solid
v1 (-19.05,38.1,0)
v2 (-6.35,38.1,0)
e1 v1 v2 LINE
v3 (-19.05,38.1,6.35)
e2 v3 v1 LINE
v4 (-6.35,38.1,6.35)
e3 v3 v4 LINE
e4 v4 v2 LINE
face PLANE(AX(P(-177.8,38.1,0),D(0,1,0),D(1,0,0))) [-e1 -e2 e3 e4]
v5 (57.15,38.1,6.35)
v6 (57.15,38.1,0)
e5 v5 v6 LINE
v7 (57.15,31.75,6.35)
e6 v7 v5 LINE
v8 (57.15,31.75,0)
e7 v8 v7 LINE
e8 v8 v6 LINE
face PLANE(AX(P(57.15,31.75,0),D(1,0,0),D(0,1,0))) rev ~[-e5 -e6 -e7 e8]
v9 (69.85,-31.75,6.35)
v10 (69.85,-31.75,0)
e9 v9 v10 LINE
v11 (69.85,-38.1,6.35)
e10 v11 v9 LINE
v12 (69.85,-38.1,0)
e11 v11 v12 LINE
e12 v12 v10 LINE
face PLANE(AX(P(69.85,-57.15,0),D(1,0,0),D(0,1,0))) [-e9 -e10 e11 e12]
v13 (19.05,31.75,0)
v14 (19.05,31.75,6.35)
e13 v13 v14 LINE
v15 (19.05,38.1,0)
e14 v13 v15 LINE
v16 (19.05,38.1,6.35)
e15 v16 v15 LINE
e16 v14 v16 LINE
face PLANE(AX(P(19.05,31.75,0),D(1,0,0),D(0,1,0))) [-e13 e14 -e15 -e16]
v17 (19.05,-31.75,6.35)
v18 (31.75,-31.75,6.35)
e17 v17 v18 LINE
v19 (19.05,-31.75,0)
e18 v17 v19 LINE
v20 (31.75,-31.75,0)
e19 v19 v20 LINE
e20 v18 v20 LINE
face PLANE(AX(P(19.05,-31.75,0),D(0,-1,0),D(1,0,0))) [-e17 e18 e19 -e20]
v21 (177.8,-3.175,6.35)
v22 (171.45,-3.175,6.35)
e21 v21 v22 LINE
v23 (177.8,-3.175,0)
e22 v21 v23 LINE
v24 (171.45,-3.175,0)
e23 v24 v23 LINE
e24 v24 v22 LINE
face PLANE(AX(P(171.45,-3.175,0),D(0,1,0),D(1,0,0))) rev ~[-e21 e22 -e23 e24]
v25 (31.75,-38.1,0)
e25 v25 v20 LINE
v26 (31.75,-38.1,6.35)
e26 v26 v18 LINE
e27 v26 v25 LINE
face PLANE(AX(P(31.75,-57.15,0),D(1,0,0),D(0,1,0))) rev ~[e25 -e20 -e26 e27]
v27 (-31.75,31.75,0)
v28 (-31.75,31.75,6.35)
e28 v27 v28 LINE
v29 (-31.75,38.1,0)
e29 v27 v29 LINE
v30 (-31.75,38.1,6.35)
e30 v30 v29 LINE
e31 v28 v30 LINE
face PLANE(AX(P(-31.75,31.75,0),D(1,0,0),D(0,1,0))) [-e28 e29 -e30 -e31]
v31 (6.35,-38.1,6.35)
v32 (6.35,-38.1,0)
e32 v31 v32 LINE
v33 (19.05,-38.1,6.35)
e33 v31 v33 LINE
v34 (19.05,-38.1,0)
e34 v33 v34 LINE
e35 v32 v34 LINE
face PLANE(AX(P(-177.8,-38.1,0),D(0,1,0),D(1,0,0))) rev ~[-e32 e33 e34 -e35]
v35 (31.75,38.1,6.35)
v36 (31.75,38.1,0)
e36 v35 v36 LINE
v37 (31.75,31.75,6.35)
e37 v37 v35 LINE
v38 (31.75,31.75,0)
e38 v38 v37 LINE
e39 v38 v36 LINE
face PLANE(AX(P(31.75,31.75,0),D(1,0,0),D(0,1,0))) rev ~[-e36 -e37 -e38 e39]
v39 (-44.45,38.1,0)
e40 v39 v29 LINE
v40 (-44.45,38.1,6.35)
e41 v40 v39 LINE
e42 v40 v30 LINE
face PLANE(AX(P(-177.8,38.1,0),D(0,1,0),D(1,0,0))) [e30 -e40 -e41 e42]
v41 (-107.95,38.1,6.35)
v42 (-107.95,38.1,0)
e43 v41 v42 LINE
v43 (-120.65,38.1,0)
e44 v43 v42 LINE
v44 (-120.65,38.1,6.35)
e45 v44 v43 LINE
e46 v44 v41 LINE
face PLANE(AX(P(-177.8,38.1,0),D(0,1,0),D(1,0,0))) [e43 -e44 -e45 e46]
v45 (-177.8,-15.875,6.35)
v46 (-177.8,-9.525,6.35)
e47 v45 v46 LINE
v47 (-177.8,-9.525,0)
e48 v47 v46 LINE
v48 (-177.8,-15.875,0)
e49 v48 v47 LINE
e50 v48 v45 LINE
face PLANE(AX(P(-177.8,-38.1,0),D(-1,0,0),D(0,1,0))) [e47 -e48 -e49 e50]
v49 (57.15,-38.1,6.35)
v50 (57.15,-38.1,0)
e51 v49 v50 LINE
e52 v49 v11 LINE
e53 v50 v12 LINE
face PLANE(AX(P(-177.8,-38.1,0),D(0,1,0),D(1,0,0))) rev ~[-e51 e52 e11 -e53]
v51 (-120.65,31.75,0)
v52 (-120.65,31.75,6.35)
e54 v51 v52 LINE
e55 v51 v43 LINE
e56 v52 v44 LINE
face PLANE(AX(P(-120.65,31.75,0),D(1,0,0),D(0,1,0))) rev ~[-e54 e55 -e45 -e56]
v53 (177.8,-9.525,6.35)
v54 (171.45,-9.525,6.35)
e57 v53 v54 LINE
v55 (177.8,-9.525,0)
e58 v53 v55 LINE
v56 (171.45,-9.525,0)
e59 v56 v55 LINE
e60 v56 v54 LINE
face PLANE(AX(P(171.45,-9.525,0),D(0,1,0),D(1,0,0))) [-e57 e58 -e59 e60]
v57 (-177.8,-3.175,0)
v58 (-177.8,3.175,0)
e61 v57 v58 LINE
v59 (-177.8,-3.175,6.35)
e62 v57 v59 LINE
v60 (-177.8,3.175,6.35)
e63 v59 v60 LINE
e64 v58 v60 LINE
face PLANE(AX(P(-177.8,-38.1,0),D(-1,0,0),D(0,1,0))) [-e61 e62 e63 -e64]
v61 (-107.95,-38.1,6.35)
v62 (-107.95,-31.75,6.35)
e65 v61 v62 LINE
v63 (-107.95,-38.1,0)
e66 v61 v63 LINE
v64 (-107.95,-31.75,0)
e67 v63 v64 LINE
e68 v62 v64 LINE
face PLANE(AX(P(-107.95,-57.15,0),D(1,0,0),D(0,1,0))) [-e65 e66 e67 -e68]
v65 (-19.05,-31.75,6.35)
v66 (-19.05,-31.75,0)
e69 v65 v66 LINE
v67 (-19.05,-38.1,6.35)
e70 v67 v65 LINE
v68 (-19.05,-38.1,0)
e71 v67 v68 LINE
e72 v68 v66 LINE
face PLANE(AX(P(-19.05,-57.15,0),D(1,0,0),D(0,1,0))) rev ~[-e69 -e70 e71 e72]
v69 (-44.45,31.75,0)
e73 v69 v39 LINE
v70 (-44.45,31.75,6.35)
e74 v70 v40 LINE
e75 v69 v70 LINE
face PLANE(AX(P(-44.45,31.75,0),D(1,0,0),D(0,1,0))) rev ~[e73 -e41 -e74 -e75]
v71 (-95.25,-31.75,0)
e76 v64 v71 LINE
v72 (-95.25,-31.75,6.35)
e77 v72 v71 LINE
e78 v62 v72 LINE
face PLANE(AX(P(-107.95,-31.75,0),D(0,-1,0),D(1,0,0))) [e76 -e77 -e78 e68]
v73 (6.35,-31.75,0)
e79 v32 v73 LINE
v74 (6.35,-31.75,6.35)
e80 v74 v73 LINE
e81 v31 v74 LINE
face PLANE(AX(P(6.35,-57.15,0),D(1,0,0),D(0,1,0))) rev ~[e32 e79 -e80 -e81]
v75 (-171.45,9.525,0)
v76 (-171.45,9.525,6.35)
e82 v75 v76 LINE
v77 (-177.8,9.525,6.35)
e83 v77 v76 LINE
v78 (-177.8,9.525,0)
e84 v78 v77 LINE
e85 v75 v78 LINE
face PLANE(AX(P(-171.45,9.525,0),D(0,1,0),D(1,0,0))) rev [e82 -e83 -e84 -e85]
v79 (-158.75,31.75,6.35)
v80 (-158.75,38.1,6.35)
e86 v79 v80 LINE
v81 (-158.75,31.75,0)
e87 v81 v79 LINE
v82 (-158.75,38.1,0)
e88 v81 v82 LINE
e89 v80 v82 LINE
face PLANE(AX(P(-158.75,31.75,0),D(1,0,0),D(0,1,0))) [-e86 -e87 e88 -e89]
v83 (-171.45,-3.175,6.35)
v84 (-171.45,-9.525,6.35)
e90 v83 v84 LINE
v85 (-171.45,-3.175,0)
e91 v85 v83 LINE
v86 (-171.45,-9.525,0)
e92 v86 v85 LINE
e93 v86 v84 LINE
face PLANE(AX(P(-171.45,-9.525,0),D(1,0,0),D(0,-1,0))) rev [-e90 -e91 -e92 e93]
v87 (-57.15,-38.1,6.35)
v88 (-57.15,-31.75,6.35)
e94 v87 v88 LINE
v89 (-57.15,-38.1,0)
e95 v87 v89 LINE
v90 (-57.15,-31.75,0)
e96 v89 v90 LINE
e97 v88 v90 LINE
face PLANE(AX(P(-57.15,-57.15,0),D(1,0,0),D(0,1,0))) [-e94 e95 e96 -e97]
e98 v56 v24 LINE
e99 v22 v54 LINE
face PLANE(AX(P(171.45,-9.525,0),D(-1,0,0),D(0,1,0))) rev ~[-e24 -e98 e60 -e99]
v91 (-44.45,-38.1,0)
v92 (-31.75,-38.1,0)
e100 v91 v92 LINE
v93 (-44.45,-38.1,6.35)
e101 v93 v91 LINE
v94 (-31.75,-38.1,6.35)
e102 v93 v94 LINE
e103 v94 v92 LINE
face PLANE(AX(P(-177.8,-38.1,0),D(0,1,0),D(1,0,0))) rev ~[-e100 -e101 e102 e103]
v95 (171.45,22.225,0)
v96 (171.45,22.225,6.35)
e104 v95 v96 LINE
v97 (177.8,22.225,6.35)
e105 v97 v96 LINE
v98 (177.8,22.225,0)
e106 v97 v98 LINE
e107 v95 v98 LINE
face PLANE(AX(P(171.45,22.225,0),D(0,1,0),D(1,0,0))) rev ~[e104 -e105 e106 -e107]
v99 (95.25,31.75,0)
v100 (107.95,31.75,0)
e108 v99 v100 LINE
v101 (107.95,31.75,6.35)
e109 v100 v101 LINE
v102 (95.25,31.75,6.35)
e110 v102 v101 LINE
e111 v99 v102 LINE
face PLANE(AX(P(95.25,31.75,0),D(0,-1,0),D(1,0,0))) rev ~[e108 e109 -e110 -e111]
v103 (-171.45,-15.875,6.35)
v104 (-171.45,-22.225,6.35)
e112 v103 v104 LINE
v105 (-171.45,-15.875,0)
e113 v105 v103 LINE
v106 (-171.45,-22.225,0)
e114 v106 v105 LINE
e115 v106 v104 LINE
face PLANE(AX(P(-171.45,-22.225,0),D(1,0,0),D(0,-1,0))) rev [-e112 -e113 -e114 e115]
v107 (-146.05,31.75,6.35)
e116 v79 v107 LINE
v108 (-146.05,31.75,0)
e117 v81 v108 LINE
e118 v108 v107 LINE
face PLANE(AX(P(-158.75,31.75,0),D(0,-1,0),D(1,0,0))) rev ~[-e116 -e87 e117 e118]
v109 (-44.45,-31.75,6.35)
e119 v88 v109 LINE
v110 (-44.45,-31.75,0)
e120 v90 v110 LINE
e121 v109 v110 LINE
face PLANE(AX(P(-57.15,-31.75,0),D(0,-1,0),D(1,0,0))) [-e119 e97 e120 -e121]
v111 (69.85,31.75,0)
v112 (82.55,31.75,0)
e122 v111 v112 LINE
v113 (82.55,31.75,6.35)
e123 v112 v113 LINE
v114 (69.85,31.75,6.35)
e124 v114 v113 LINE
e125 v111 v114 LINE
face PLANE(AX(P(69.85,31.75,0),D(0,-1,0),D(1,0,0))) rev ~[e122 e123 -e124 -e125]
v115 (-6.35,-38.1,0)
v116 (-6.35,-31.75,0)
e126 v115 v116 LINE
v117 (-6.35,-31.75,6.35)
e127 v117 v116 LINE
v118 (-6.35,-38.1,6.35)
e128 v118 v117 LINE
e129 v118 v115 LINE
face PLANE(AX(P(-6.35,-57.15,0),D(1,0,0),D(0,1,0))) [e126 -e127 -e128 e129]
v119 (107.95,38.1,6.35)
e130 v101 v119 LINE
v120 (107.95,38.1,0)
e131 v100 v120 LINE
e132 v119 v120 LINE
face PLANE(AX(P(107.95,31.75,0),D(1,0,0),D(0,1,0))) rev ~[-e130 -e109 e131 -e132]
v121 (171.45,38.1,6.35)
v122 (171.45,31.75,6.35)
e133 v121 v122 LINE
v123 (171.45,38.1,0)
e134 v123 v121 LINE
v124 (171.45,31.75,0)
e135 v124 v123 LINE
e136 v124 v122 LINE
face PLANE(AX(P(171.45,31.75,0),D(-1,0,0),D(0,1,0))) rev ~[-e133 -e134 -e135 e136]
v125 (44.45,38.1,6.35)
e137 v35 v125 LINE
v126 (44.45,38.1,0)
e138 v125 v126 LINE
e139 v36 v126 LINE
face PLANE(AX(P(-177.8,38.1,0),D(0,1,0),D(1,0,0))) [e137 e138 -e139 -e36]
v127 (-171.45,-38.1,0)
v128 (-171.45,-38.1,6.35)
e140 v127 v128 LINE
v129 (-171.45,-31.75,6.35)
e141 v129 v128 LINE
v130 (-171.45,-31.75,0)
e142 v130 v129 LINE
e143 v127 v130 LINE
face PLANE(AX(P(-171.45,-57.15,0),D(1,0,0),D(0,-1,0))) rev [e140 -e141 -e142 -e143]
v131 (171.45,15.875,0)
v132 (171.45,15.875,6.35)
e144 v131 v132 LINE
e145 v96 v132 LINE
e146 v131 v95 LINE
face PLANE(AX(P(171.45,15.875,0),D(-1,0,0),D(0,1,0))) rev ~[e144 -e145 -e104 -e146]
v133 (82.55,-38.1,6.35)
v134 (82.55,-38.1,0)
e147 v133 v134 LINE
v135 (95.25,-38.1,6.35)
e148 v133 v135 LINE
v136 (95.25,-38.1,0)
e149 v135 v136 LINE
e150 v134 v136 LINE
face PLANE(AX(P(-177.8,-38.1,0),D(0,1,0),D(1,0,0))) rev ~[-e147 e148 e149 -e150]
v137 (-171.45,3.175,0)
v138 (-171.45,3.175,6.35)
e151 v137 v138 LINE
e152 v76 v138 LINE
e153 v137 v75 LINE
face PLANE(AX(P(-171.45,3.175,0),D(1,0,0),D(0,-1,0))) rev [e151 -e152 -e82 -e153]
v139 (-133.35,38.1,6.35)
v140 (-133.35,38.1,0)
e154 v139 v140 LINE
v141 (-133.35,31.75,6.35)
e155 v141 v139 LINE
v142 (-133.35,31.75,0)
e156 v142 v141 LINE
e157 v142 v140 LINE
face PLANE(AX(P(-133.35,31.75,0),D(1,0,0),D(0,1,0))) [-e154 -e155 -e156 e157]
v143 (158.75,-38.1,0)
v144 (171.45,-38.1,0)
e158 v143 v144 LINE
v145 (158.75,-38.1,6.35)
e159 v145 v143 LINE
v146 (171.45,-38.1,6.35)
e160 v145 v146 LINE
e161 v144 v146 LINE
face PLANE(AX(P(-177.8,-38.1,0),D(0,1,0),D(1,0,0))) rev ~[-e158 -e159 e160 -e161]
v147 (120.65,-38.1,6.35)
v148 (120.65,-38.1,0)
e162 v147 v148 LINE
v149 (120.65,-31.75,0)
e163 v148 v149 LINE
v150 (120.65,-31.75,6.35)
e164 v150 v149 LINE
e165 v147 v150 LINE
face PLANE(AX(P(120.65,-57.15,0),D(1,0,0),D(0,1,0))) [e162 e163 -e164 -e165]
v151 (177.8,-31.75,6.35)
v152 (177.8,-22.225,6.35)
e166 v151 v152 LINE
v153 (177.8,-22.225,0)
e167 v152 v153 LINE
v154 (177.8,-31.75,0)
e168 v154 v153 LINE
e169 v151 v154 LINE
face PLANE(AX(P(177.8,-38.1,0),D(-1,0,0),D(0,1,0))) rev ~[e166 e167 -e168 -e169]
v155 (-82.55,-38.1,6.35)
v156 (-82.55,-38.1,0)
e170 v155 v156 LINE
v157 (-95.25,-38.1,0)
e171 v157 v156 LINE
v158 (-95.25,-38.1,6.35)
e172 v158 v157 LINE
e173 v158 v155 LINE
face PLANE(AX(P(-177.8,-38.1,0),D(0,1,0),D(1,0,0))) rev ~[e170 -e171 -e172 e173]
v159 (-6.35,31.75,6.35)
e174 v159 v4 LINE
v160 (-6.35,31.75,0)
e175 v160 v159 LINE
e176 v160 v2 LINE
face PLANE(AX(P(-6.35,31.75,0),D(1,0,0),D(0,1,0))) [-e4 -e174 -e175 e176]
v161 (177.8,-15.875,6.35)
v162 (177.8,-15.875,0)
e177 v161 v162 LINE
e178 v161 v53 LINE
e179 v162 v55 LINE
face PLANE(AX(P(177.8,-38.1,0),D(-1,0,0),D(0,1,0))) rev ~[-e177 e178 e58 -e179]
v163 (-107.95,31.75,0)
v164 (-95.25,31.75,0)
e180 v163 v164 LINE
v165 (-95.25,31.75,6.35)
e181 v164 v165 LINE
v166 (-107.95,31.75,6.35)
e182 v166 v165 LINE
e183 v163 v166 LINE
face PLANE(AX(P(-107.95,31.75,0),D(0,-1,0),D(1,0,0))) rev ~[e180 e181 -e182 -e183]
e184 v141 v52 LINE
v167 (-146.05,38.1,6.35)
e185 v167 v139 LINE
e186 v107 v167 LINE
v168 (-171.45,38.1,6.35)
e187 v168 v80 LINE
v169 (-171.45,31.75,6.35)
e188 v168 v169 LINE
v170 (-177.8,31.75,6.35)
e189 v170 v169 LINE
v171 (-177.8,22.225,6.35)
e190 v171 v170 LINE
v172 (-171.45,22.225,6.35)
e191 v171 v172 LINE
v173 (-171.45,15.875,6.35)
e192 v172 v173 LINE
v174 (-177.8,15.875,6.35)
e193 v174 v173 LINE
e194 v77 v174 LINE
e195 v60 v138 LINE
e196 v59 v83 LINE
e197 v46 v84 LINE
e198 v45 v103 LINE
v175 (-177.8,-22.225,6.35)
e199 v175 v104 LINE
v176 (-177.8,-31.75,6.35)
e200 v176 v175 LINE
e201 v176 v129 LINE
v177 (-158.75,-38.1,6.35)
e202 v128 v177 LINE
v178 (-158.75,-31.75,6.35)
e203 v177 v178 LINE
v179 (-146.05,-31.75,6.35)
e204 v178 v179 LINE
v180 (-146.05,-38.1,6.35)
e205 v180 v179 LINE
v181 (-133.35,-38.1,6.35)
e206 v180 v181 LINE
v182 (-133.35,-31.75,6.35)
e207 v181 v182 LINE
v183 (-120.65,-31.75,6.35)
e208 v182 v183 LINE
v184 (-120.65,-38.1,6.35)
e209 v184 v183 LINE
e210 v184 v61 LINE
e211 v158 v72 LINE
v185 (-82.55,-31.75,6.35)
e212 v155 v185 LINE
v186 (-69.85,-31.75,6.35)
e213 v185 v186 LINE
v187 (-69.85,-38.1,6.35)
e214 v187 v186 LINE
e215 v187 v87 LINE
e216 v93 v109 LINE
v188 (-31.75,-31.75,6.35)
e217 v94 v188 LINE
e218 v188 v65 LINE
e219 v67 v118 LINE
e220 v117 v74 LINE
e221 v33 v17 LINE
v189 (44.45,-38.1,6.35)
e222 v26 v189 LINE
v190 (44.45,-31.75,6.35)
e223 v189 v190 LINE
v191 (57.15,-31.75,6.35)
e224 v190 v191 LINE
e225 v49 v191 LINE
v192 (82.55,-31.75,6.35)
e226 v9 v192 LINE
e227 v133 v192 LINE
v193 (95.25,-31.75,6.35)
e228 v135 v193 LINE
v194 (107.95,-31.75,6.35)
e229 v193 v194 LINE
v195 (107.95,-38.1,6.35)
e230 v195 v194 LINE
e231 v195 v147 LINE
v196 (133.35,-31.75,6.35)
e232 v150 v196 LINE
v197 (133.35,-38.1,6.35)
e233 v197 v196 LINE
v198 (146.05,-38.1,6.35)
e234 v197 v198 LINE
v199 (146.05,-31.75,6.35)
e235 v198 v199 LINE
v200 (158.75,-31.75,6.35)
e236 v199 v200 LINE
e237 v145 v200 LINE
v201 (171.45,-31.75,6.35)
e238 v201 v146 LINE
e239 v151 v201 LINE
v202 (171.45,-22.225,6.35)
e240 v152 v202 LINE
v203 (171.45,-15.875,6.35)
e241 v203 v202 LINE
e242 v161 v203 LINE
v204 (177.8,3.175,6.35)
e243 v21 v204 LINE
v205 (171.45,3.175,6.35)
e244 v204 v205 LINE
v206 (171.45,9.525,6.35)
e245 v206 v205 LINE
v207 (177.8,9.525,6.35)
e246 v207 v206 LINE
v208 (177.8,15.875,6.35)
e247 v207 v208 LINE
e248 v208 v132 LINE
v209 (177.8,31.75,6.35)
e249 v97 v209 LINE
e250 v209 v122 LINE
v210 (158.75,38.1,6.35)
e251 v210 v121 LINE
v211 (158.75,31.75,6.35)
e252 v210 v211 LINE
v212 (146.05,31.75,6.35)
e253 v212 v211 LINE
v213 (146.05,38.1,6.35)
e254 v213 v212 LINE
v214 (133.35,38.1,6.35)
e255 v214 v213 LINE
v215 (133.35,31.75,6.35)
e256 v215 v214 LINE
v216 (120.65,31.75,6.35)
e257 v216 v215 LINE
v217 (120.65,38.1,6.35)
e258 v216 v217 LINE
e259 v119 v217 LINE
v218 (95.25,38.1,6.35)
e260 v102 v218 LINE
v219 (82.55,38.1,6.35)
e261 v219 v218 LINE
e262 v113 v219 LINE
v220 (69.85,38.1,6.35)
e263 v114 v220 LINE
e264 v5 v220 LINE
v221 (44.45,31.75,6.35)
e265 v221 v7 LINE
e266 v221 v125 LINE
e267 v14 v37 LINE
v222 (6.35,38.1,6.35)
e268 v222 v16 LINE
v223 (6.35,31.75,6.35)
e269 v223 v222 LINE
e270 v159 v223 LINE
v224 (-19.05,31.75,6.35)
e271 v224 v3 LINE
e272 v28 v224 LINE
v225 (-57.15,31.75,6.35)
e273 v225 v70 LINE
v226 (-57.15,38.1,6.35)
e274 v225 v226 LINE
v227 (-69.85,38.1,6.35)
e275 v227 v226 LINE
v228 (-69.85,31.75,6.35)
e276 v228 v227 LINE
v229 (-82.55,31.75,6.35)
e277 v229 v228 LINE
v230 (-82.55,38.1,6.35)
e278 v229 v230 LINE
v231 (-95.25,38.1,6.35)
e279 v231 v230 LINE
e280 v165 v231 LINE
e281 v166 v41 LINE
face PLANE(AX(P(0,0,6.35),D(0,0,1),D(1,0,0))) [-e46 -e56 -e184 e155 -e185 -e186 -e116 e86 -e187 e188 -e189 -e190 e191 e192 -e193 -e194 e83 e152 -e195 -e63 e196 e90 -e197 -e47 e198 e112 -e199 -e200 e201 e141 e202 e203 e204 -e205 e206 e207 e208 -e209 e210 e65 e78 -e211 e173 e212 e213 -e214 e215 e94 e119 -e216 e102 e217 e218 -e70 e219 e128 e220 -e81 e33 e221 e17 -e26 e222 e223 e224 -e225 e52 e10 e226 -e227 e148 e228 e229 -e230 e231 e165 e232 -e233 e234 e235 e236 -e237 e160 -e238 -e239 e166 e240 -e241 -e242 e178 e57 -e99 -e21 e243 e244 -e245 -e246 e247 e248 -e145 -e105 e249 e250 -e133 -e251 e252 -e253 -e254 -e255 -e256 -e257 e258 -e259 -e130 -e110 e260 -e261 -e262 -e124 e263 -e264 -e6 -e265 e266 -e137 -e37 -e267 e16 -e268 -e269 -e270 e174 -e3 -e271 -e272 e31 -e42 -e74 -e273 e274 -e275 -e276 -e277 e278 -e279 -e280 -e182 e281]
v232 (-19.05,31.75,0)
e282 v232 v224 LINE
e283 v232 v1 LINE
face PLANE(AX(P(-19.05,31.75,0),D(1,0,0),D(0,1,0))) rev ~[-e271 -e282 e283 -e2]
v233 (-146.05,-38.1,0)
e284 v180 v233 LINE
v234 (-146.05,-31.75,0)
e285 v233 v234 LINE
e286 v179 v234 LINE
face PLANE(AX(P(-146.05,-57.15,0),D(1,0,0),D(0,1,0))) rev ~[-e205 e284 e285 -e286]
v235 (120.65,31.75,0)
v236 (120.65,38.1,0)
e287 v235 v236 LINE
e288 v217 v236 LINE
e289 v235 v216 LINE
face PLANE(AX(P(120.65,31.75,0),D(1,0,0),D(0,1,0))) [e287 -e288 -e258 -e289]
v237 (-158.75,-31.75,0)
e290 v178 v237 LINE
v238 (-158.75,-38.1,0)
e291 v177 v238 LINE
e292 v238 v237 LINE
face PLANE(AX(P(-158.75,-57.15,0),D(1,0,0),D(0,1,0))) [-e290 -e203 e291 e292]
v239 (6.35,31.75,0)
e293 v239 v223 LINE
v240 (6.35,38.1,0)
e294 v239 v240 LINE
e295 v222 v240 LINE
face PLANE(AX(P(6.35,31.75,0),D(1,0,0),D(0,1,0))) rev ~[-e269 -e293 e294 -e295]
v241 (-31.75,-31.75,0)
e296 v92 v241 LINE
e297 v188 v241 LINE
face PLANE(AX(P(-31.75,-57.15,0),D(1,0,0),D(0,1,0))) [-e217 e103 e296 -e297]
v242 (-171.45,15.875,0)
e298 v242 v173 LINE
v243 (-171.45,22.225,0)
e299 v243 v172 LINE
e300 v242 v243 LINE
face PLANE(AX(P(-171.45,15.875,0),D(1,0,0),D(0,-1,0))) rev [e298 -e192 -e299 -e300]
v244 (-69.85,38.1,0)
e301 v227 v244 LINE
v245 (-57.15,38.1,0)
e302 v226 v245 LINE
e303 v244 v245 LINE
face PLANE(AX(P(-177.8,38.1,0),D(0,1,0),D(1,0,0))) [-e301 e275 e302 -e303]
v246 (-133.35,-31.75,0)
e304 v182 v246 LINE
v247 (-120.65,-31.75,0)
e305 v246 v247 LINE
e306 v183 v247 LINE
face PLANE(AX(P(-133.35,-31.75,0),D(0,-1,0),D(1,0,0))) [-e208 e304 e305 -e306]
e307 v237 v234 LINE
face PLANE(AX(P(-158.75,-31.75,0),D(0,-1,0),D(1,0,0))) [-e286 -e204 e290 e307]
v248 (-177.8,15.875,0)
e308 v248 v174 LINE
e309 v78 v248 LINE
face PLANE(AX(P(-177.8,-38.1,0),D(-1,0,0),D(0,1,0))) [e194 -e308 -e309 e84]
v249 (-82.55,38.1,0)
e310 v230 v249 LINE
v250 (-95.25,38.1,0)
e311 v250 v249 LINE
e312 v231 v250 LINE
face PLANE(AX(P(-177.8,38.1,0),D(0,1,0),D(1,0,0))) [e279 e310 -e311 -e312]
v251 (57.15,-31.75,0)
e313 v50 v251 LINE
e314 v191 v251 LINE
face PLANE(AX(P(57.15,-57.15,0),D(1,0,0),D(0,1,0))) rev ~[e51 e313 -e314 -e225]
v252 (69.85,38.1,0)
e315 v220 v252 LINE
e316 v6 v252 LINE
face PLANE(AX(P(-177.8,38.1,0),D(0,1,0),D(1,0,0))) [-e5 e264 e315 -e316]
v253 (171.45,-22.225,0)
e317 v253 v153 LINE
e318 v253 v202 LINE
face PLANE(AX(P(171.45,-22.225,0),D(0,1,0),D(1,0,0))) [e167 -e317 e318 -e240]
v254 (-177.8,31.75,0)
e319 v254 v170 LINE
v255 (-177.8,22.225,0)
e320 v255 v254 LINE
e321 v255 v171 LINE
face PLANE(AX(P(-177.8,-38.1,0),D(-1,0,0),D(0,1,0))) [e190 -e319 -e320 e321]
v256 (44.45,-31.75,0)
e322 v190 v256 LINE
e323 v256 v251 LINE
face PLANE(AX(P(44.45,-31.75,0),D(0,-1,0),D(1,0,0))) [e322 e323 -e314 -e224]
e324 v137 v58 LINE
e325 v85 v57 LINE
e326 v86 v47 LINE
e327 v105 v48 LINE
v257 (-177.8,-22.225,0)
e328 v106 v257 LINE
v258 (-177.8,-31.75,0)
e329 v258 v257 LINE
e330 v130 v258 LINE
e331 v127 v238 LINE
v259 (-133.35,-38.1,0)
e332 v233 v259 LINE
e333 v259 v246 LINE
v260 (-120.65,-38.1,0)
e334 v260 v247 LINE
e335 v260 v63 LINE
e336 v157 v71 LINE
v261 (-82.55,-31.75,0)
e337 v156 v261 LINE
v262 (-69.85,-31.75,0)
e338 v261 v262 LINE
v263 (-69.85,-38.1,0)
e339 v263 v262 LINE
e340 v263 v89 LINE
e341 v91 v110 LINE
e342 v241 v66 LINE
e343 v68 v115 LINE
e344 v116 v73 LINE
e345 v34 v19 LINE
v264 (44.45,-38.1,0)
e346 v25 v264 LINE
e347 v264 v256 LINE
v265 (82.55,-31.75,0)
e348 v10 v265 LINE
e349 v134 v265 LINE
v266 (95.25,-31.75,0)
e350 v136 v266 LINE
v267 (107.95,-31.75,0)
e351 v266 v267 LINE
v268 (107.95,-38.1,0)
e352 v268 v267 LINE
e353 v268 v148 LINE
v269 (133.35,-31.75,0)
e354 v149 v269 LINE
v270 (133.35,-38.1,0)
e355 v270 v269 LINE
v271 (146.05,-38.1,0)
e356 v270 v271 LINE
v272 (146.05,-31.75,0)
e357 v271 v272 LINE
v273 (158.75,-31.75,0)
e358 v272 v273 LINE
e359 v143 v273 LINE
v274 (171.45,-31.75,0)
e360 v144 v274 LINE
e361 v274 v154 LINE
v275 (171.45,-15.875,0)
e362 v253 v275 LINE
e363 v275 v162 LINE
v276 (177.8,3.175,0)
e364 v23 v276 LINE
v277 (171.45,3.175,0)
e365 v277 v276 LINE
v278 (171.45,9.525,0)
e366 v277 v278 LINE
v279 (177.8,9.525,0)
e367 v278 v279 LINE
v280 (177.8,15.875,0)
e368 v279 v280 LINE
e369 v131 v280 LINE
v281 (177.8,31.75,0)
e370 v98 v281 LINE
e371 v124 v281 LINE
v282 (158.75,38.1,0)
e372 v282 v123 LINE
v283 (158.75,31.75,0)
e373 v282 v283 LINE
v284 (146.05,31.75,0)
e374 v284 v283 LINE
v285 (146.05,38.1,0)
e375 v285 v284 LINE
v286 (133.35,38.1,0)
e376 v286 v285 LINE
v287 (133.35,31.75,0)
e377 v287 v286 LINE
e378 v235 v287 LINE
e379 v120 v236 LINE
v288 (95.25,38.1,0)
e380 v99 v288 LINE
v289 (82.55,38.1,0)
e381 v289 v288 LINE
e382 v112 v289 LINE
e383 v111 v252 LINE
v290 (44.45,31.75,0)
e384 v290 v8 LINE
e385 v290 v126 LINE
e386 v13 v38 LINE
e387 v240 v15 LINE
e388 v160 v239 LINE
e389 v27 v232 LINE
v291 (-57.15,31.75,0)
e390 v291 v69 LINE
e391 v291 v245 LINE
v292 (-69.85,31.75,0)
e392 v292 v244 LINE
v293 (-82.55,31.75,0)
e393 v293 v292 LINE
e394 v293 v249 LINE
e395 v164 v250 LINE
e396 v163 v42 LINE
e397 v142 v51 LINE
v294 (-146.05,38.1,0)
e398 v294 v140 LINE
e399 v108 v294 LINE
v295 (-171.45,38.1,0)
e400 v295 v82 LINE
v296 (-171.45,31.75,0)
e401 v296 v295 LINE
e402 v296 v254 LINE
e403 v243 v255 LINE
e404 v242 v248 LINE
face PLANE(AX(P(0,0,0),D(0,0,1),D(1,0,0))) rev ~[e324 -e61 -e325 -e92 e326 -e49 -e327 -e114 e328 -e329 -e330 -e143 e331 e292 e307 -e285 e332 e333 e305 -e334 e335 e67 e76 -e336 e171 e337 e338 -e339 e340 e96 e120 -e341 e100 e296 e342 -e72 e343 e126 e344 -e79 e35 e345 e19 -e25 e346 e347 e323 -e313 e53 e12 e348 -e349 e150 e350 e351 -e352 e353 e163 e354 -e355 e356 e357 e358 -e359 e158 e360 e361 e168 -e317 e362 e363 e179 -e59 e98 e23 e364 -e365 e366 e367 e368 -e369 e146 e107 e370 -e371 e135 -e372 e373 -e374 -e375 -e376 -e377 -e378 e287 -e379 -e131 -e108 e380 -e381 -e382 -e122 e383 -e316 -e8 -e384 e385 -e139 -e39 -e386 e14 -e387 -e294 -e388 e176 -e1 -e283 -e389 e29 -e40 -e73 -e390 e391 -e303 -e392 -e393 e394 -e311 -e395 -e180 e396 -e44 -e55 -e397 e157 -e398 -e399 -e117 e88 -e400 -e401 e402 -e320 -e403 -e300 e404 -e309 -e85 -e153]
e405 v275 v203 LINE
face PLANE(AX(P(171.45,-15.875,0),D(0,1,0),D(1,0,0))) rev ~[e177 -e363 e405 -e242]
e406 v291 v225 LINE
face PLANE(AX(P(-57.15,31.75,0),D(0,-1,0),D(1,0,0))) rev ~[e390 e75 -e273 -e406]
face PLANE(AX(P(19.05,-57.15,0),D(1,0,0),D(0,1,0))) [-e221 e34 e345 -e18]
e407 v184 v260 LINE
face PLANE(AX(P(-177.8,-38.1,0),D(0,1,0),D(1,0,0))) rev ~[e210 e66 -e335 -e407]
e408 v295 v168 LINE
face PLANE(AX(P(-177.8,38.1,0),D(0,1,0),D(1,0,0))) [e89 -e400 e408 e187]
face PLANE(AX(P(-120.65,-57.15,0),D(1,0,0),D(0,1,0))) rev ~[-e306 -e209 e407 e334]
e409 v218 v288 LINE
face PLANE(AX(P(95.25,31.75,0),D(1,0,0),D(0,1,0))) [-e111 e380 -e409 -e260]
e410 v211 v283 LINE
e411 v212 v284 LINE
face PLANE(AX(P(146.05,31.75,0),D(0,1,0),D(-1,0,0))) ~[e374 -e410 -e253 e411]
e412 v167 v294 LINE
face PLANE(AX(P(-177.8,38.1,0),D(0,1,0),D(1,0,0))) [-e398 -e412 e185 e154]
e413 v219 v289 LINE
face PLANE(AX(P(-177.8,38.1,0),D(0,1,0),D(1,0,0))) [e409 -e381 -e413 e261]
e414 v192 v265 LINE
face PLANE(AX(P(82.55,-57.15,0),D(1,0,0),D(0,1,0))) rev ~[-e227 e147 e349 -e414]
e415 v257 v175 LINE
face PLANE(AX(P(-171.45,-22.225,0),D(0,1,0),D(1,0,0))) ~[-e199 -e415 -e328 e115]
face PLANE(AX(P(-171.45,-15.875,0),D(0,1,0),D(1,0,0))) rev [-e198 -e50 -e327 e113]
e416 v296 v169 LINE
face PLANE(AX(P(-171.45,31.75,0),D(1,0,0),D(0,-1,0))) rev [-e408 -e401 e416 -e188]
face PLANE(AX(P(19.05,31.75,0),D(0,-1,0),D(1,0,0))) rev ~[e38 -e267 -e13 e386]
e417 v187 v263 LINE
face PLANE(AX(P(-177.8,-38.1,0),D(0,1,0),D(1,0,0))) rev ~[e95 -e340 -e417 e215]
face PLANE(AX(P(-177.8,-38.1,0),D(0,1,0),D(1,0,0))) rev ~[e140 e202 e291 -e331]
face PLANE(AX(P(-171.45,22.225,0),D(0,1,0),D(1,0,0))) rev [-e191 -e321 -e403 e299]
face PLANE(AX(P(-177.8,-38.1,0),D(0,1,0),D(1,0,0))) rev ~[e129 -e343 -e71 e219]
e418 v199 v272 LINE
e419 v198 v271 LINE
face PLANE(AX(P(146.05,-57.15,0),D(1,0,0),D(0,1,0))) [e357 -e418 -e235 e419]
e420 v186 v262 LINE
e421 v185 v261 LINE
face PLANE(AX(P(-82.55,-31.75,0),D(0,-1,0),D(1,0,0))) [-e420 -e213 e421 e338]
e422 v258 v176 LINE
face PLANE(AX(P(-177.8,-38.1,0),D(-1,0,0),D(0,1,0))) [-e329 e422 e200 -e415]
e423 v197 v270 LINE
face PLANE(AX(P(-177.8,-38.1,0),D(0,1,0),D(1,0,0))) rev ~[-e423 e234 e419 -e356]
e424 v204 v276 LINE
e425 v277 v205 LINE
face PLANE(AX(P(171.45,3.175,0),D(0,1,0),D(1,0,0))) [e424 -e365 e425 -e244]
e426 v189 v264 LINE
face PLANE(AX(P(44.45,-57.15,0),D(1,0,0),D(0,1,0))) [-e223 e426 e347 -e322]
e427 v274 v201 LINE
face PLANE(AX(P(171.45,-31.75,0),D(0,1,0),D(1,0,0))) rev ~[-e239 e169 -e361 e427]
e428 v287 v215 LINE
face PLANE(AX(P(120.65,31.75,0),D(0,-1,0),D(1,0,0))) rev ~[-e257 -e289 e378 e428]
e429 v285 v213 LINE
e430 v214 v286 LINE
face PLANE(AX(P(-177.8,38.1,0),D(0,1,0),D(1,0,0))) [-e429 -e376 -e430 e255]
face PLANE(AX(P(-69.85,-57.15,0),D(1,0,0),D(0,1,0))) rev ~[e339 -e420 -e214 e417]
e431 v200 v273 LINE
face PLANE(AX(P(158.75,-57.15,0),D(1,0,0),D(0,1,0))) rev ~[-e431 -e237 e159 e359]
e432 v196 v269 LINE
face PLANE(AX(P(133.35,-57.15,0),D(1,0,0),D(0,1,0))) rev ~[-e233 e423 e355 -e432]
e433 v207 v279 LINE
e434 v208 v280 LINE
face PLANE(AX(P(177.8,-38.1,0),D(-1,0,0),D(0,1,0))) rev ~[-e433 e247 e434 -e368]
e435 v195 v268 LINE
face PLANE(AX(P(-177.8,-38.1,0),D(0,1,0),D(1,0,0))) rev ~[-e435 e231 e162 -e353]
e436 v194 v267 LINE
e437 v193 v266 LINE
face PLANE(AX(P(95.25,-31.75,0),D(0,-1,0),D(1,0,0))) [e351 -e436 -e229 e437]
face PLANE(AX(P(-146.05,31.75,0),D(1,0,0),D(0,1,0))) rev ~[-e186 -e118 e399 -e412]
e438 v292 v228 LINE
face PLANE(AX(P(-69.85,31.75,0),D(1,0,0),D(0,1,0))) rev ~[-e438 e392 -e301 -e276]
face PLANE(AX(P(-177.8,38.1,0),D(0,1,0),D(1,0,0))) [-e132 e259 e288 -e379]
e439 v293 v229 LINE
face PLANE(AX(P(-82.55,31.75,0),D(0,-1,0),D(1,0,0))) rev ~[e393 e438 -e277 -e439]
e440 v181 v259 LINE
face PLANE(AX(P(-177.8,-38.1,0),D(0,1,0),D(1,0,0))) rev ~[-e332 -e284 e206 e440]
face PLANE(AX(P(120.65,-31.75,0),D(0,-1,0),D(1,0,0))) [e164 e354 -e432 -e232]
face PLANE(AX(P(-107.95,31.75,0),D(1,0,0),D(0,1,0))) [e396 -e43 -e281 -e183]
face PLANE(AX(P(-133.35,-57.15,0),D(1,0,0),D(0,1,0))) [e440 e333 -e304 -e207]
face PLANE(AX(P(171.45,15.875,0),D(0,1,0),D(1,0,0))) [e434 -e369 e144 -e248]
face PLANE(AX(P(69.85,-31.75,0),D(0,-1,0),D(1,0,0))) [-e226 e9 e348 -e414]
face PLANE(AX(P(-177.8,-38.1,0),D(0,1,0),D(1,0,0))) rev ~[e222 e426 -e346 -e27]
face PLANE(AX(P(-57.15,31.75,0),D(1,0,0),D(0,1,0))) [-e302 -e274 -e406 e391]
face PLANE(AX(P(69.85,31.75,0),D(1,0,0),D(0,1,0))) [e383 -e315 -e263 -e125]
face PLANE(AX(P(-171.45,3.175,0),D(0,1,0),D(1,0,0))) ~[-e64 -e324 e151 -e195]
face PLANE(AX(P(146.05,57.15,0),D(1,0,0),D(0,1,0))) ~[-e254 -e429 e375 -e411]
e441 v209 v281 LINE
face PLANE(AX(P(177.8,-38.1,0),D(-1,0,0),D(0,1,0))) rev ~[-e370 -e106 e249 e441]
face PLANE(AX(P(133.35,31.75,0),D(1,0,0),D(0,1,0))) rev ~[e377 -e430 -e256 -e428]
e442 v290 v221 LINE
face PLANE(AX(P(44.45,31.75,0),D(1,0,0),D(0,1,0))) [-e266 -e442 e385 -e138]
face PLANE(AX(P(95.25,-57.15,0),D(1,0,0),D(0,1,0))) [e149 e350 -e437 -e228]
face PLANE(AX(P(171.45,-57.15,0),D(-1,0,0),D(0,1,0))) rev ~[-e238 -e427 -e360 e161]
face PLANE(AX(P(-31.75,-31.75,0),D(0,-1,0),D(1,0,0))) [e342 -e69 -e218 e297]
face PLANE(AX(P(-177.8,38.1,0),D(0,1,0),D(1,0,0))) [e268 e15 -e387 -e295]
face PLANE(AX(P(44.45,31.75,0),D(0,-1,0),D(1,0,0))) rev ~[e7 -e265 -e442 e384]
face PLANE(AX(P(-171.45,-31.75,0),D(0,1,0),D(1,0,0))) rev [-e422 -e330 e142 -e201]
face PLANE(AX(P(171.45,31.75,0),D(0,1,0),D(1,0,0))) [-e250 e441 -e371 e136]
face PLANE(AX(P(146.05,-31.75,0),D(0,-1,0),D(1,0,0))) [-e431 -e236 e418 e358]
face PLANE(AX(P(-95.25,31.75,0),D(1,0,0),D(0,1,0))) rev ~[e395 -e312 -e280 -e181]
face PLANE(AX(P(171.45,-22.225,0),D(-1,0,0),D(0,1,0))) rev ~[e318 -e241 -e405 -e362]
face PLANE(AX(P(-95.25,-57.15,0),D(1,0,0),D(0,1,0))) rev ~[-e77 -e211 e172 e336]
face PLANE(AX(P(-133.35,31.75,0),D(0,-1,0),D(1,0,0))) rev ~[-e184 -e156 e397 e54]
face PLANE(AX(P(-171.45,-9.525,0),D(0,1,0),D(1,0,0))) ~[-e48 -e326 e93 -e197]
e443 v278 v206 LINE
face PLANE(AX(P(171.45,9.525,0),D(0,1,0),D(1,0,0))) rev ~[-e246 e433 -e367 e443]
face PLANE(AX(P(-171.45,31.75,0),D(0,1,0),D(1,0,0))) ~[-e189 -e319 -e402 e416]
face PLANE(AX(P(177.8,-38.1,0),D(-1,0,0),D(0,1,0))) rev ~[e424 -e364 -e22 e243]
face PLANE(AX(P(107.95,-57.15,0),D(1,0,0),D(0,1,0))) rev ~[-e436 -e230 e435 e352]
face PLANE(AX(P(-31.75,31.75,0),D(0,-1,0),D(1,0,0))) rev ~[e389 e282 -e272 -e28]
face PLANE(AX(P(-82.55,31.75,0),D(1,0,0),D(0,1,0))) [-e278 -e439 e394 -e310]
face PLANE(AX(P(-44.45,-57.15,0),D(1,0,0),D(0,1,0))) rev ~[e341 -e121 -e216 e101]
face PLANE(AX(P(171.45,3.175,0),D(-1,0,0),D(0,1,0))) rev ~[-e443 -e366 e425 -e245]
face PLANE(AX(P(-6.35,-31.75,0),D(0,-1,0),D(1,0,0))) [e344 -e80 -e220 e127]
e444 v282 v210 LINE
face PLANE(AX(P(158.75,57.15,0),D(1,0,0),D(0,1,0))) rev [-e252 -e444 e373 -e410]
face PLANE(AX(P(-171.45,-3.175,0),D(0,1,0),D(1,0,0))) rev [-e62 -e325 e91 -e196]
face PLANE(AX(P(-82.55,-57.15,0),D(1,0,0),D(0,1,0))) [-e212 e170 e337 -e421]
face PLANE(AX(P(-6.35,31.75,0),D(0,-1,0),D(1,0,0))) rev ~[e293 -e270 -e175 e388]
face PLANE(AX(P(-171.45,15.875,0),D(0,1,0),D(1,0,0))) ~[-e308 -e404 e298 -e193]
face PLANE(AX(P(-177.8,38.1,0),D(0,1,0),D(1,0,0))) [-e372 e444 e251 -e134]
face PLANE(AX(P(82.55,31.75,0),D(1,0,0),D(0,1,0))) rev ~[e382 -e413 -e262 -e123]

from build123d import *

# Parameters (mm, degrees)
SKETCH1_W                = 355.6
SKETCH1_H                = 76.2
BOSS_EXTRUDE1_DEPTH      = 6.35
SKETCH2_W                = 12.7
SKETCH2_H                = 25.4
CUT_EXTRUDE5_DEPTH       = 182.94716953
LPATTERN1_COUNT          = 13
LPATTERN1_PITCH          = 25.4
MIRROR1_COPY_1_SKETCH_W  = 12.7
MIRROR1_COPY_1_SKETCH_H  = 25.4
MIRROR1_COPY_1_DEPTH     = 182.94716953
MIRROR1_COPY_2_SKETCH_W  = 12.7
MIRROR1_COPY_2_SKETCH_H  = 25.4
MIRROR1_COPY_2_DEPTH     = 182.94716953
MIRROR1_COPY_3_SKETCH_W  = 12.7
MIRROR1_COPY_3_SKETCH_H  = 25.4
MIRROR1_COPY_3_DEPTH     = 182.94716953
MIRROR1_COPY_4_SKETCH_W  = 12.7
MIRROR1_COPY_4_SKETCH_H  = 25.4
MIRROR1_COPY_4_DEPTH     = 182.94716953
MIRROR1_COPY_5_SKETCH_W  = 12.7
MIRROR1_COPY_5_SKETCH_H  = 25.4
MIRROR1_COPY_5_DEPTH     = 182.94716953
MIRROR1_COPY_6_SKETCH_W  = 12.7
MIRROR1_COPY_6_SKETCH_H  = 25.4
MIRROR1_COPY_6_DEPTH     = 182.94716953
MIRROR1_COPY_7_SKETCH_W  = 12.7
MIRROR1_COPY_7_SKETCH_H  = 25.4
MIRROR1_COPY_7_DEPTH     = 182.94716953
MIRROR1_COPY_8_SKETCH_W  = 12.7
MIRROR1_COPY_8_SKETCH_H  = 25.4
MIRROR1_COPY_8_DEPTH     = 182.94716953
MIRROR1_COPY_9_SKETCH_W  = 12.7
MIRROR1_COPY_9_SKETCH_H  = 25.4
MIRROR1_COPY_9_DEPTH     = 182.94716953
MIRROR1_COPY_10_SKETCH_W = 12.7
MIRROR1_COPY_10_SKETCH_H = 25.4
MIRROR1_COPY_10_DEPTH    = 182.94716953
MIRROR1_COPY_11_SKETCH_W = 12.7
MIRROR1_COPY_11_SKETCH_H = 25.4
MIRROR1_COPY_11_DEPTH    = 182.94716953
MIRROR1_COPY_12_SKETCH_W = 12.7
MIRROR1_COPY_12_SKETCH_H = 25.4
MIRROR1_COPY_12_DEPTH    = 182.94716953
SKETCH3_W                = 40.748476415
SKETCH3_H                = 6.35
SKETCH3_W_2              = 25.4
SKETCH3_H_2              = 25.4
CUT_EXTRUDE7_DEPTH       = 182.94716953


with BuildPart() as part:
    # Sketch1 → Boss-Extrude1 (new body)
    with BuildSketch(Plane.XY):
        Rectangle(SKETCH1_W, SKETCH1_H)
    extrude(amount=BOSS_EXTRUDE1_DEPTH)

    # Sketch2 → Cut-Extrude5 (cut, symmetric)
    with BuildSketch(Plane.XY):
        with Locations((152.4, -44.45)):
            Rectangle(SKETCH2_W, SKETCH2_H)
    cut_extrude5 = extrude(amount=CUT_EXTRUDE5_DEPTH, both=True, mode=Mode.SUBTRACT)

    # LPattern1: Cut-Extrude5 ×13
    with Locations(*[(-i * LPATTERN1_PITCH, 0, 0) for i in range(1, LPATTERN1_COUNT)]):
        add(cut_extrude5, mode=Mode.SUBTRACT)

    # Mirror1: Cut-Extrude5 across plane
    add(cut_extrude5.mirror(Plane.ZX), mode=Mode.SUBTRACT)

    # Mirror1 copy 1 sketch → Mirror1 copy 1 (cut, symmetric)
    with BuildSketch(Plane(origin=(-25.4, 0, 0), x_dir=(1, 0, 0), z_dir=(0, 0, 1))):
        with Locations((152.4, 44.45)):
            Rectangle(MIRROR1_COPY_1_SKETCH_W, MIRROR1_COPY_1_SKETCH_H)
    extrude(amount=MIRROR1_COPY_1_DEPTH, both=True, mode=Mode.SUBTRACT)

    # Mirror1 copy 2 sketch → Mirror1 copy 2 (cut, symmetric)
    with BuildSketch(Plane(origin=(-50.8, 0, 0), x_dir=(1, 0, 0), z_dir=(0, 0, 1))):
        with Locations((152.4, 44.45)):
            Rectangle(MIRROR1_COPY_2_SKETCH_W, MIRROR1_COPY_2_SKETCH_H)
    extrude(amount=MIRROR1_COPY_2_DEPTH, both=True, mode=Mode.SUBTRACT)

    # Mirror1 copy 3 sketch → Mirror1 copy 3 (cut, symmetric)
    with BuildSketch(Plane(origin=(-76.2, 0, 0), x_dir=(1, 0, 0), z_dir=(0, 0, 1))):
        with Locations((152.4, 44.45)):
            Rectangle(MIRROR1_COPY_3_SKETCH_W, MIRROR1_COPY_3_SKETCH_H)
    extrude(amount=MIRROR1_COPY_3_DEPTH, both=True, mode=Mode.SUBTRACT)

    # Mirror1 copy 4 sketch → Mirror1 copy 4 (cut, symmetric)
    with BuildSketch(Plane(origin=(-101.6, 0, 0), x_dir=(1, 0, 0), z_dir=(0, 0, 1))):
        with Locations((152.4, 44.45)):
            Rectangle(MIRROR1_COPY_4_SKETCH_W, MIRROR1_COPY_4_SKETCH_H)
    extrude(amount=MIRROR1_COPY_4_DEPTH, both=True, mode=Mode.SUBTRACT)

    # Mirror1 copy 5 sketch → Mirror1 copy 5 (cut, symmetric)
    with BuildSketch(Plane(origin=(-127, 0, 0), x_dir=(1, 0, 0), z_dir=(0, 0, 1))):
        with Locations((152.4, 44.45)):
            Rectangle(MIRROR1_COPY_5_SKETCH_W, MIRROR1_COPY_5_SKETCH_H)
    extrude(amount=MIRROR1_COPY_5_DEPTH, both=True, mode=Mode.SUBTRACT)

    # Mirror1 copy 6 sketch → Mirror1 copy 6 (cut, symmetric)
    with BuildSketch(Plane(origin=(-152.4, 0, 0), x_dir=(1, 0, 0), z_dir=(0, 0, 1))):
        with Locations((152.4, 44.45)):
            Rectangle(MIRROR1_COPY_6_SKETCH_W, MIRROR1_COPY_6_SKETCH_H)
    extrude(amount=MIRROR1_COPY_6_DEPTH, both=True, mode=Mode.SUBTRACT)

    # Mirror1 copy 7 sketch → Mirror1 copy 7 (cut, symmetric)
    with BuildSketch(Plane(origin=(-177.8, 0, 0), x_dir=(1, 0, 0), z_dir=(0, 0, 1))):
        with Locations((152.4, 44.45)):
            Rectangle(MIRROR1_COPY_7_SKETCH_W, MIRROR1_COPY_7_SKETCH_H)
    extrude(amount=MIRROR1_COPY_7_DEPTH, both=True, mode=Mode.SUBTRACT)

    # Mirror1 copy 8 sketch → Mirror1 copy 8 (cut, symmetric)
    with BuildSketch(Plane(origin=(-203.2, 0, 0), x_dir=(1, 0, 0), z_dir=(0, 0, 1))):
        with Locations((152.4, 44.45)):
            Rectangle(MIRROR1_COPY_8_SKETCH_W, MIRROR1_COPY_8_SKETCH_H)
    extrude(amount=MIRROR1_COPY_8_DEPTH, both=True, mode=Mode.SUBTRACT)

    # Mirror1 copy 9 sketch → Mirror1 copy 9 (cut, symmetric)
    with BuildSketch(Plane(origin=(-228.6, 0, 0), x_dir=(1, 0, 0), z_dir=(0, 0, 1))):
        with Locations((152.4, 44.45)):
            Rectangle(MIRROR1_COPY_9_SKETCH_W, MIRROR1_COPY_9_SKETCH_H)
    extrude(amount=MIRROR1_COPY_9_DEPTH, both=True, mode=Mode.SUBTRACT)

    # Mirror1 copy 10 sketch → Mirror1 copy 10 (cut, symmetric)
    with BuildSketch(Plane(origin=(-254, 0, 0), x_dir=(1, 0, 0), z_dir=(0, 0, 1))):
        with Locations((152.4, 44.45)):
            Rectangle(MIRROR1_COPY_10_SKETCH_W, MIRROR1_COPY_10_SKETCH_H)
    extrude(amount=MIRROR1_COPY_10_DEPTH, both=True, mode=Mode.SUBTRACT)

    # Mirror1 copy 11 sketch → Mirror1 copy 11 (cut, symmetric)
    with BuildSketch(Plane(origin=(-279.4, 0, 0), x_dir=(1, 0, 0), z_dir=(0, 0, 1))):
        with Locations((152.4, 44.45)):
            Rectangle(MIRROR1_COPY_11_SKETCH_W, MIRROR1_COPY_11_SKETCH_H)
    extrude(amount=MIRROR1_COPY_11_DEPTH, both=True, mode=Mode.SUBTRACT)

    # Mirror1 copy 12 sketch → Mirror1 copy 12 (cut, symmetric)
    with BuildSketch(Plane(origin=(-304.8, 0, 0), x_dir=(1, 0, 0), z_dir=(0, 0, 1))):
        with Locations((152.4, 44.45)):
            Rectangle(MIRROR1_COPY_12_SKETCH_W, MIRROR1_COPY_12_SKETCH_H)
    extrude(amount=MIRROR1_COPY_12_DEPTH, both=True, mode=Mode.SUBTRACT)

    # Sketch3 → Cut-Extrude7 (cut, through all)
    with BuildSketch(Plane.XY):
        with Locations((191.824238208, 19.05)):
            Rectangle(SKETCH3_W, SKETCH3_H)
        with Locations((191.824238208, 6.35)):
            Rectangle(SKETCH3_W, SKETCH3_H)
        with Locations((191.824238208, -6.35)):
            Rectangle(SKETCH3_W, SKETCH3_H)
        with Locations((191.824238208, -19.05)):
            Rectangle(SKETCH3_W, SKETCH3_H)
        with Locations((184.15, 44.45)):
            Rectangle(SKETCH3_W_2, SKETCH3_H_2)
        with Locations((184.15, -44.45)):
            Rectangle(SKETCH3_W_2, SKETCH3_H_2)
    cut_extrude7 = extrude(amount=CUT_EXTRUDE7_DEPTH, mode=Mode.SUBTRACT)

    # Mirror2: Cut-Extrude7 across plane
    add(cut_extrude7.mirror(Plane(origin=(0, 0, 0), x_dir=(0, 0, 1), z_dir=(1, 0, 0))), mode=Mode.SUBTRACT)


solid = part.part
